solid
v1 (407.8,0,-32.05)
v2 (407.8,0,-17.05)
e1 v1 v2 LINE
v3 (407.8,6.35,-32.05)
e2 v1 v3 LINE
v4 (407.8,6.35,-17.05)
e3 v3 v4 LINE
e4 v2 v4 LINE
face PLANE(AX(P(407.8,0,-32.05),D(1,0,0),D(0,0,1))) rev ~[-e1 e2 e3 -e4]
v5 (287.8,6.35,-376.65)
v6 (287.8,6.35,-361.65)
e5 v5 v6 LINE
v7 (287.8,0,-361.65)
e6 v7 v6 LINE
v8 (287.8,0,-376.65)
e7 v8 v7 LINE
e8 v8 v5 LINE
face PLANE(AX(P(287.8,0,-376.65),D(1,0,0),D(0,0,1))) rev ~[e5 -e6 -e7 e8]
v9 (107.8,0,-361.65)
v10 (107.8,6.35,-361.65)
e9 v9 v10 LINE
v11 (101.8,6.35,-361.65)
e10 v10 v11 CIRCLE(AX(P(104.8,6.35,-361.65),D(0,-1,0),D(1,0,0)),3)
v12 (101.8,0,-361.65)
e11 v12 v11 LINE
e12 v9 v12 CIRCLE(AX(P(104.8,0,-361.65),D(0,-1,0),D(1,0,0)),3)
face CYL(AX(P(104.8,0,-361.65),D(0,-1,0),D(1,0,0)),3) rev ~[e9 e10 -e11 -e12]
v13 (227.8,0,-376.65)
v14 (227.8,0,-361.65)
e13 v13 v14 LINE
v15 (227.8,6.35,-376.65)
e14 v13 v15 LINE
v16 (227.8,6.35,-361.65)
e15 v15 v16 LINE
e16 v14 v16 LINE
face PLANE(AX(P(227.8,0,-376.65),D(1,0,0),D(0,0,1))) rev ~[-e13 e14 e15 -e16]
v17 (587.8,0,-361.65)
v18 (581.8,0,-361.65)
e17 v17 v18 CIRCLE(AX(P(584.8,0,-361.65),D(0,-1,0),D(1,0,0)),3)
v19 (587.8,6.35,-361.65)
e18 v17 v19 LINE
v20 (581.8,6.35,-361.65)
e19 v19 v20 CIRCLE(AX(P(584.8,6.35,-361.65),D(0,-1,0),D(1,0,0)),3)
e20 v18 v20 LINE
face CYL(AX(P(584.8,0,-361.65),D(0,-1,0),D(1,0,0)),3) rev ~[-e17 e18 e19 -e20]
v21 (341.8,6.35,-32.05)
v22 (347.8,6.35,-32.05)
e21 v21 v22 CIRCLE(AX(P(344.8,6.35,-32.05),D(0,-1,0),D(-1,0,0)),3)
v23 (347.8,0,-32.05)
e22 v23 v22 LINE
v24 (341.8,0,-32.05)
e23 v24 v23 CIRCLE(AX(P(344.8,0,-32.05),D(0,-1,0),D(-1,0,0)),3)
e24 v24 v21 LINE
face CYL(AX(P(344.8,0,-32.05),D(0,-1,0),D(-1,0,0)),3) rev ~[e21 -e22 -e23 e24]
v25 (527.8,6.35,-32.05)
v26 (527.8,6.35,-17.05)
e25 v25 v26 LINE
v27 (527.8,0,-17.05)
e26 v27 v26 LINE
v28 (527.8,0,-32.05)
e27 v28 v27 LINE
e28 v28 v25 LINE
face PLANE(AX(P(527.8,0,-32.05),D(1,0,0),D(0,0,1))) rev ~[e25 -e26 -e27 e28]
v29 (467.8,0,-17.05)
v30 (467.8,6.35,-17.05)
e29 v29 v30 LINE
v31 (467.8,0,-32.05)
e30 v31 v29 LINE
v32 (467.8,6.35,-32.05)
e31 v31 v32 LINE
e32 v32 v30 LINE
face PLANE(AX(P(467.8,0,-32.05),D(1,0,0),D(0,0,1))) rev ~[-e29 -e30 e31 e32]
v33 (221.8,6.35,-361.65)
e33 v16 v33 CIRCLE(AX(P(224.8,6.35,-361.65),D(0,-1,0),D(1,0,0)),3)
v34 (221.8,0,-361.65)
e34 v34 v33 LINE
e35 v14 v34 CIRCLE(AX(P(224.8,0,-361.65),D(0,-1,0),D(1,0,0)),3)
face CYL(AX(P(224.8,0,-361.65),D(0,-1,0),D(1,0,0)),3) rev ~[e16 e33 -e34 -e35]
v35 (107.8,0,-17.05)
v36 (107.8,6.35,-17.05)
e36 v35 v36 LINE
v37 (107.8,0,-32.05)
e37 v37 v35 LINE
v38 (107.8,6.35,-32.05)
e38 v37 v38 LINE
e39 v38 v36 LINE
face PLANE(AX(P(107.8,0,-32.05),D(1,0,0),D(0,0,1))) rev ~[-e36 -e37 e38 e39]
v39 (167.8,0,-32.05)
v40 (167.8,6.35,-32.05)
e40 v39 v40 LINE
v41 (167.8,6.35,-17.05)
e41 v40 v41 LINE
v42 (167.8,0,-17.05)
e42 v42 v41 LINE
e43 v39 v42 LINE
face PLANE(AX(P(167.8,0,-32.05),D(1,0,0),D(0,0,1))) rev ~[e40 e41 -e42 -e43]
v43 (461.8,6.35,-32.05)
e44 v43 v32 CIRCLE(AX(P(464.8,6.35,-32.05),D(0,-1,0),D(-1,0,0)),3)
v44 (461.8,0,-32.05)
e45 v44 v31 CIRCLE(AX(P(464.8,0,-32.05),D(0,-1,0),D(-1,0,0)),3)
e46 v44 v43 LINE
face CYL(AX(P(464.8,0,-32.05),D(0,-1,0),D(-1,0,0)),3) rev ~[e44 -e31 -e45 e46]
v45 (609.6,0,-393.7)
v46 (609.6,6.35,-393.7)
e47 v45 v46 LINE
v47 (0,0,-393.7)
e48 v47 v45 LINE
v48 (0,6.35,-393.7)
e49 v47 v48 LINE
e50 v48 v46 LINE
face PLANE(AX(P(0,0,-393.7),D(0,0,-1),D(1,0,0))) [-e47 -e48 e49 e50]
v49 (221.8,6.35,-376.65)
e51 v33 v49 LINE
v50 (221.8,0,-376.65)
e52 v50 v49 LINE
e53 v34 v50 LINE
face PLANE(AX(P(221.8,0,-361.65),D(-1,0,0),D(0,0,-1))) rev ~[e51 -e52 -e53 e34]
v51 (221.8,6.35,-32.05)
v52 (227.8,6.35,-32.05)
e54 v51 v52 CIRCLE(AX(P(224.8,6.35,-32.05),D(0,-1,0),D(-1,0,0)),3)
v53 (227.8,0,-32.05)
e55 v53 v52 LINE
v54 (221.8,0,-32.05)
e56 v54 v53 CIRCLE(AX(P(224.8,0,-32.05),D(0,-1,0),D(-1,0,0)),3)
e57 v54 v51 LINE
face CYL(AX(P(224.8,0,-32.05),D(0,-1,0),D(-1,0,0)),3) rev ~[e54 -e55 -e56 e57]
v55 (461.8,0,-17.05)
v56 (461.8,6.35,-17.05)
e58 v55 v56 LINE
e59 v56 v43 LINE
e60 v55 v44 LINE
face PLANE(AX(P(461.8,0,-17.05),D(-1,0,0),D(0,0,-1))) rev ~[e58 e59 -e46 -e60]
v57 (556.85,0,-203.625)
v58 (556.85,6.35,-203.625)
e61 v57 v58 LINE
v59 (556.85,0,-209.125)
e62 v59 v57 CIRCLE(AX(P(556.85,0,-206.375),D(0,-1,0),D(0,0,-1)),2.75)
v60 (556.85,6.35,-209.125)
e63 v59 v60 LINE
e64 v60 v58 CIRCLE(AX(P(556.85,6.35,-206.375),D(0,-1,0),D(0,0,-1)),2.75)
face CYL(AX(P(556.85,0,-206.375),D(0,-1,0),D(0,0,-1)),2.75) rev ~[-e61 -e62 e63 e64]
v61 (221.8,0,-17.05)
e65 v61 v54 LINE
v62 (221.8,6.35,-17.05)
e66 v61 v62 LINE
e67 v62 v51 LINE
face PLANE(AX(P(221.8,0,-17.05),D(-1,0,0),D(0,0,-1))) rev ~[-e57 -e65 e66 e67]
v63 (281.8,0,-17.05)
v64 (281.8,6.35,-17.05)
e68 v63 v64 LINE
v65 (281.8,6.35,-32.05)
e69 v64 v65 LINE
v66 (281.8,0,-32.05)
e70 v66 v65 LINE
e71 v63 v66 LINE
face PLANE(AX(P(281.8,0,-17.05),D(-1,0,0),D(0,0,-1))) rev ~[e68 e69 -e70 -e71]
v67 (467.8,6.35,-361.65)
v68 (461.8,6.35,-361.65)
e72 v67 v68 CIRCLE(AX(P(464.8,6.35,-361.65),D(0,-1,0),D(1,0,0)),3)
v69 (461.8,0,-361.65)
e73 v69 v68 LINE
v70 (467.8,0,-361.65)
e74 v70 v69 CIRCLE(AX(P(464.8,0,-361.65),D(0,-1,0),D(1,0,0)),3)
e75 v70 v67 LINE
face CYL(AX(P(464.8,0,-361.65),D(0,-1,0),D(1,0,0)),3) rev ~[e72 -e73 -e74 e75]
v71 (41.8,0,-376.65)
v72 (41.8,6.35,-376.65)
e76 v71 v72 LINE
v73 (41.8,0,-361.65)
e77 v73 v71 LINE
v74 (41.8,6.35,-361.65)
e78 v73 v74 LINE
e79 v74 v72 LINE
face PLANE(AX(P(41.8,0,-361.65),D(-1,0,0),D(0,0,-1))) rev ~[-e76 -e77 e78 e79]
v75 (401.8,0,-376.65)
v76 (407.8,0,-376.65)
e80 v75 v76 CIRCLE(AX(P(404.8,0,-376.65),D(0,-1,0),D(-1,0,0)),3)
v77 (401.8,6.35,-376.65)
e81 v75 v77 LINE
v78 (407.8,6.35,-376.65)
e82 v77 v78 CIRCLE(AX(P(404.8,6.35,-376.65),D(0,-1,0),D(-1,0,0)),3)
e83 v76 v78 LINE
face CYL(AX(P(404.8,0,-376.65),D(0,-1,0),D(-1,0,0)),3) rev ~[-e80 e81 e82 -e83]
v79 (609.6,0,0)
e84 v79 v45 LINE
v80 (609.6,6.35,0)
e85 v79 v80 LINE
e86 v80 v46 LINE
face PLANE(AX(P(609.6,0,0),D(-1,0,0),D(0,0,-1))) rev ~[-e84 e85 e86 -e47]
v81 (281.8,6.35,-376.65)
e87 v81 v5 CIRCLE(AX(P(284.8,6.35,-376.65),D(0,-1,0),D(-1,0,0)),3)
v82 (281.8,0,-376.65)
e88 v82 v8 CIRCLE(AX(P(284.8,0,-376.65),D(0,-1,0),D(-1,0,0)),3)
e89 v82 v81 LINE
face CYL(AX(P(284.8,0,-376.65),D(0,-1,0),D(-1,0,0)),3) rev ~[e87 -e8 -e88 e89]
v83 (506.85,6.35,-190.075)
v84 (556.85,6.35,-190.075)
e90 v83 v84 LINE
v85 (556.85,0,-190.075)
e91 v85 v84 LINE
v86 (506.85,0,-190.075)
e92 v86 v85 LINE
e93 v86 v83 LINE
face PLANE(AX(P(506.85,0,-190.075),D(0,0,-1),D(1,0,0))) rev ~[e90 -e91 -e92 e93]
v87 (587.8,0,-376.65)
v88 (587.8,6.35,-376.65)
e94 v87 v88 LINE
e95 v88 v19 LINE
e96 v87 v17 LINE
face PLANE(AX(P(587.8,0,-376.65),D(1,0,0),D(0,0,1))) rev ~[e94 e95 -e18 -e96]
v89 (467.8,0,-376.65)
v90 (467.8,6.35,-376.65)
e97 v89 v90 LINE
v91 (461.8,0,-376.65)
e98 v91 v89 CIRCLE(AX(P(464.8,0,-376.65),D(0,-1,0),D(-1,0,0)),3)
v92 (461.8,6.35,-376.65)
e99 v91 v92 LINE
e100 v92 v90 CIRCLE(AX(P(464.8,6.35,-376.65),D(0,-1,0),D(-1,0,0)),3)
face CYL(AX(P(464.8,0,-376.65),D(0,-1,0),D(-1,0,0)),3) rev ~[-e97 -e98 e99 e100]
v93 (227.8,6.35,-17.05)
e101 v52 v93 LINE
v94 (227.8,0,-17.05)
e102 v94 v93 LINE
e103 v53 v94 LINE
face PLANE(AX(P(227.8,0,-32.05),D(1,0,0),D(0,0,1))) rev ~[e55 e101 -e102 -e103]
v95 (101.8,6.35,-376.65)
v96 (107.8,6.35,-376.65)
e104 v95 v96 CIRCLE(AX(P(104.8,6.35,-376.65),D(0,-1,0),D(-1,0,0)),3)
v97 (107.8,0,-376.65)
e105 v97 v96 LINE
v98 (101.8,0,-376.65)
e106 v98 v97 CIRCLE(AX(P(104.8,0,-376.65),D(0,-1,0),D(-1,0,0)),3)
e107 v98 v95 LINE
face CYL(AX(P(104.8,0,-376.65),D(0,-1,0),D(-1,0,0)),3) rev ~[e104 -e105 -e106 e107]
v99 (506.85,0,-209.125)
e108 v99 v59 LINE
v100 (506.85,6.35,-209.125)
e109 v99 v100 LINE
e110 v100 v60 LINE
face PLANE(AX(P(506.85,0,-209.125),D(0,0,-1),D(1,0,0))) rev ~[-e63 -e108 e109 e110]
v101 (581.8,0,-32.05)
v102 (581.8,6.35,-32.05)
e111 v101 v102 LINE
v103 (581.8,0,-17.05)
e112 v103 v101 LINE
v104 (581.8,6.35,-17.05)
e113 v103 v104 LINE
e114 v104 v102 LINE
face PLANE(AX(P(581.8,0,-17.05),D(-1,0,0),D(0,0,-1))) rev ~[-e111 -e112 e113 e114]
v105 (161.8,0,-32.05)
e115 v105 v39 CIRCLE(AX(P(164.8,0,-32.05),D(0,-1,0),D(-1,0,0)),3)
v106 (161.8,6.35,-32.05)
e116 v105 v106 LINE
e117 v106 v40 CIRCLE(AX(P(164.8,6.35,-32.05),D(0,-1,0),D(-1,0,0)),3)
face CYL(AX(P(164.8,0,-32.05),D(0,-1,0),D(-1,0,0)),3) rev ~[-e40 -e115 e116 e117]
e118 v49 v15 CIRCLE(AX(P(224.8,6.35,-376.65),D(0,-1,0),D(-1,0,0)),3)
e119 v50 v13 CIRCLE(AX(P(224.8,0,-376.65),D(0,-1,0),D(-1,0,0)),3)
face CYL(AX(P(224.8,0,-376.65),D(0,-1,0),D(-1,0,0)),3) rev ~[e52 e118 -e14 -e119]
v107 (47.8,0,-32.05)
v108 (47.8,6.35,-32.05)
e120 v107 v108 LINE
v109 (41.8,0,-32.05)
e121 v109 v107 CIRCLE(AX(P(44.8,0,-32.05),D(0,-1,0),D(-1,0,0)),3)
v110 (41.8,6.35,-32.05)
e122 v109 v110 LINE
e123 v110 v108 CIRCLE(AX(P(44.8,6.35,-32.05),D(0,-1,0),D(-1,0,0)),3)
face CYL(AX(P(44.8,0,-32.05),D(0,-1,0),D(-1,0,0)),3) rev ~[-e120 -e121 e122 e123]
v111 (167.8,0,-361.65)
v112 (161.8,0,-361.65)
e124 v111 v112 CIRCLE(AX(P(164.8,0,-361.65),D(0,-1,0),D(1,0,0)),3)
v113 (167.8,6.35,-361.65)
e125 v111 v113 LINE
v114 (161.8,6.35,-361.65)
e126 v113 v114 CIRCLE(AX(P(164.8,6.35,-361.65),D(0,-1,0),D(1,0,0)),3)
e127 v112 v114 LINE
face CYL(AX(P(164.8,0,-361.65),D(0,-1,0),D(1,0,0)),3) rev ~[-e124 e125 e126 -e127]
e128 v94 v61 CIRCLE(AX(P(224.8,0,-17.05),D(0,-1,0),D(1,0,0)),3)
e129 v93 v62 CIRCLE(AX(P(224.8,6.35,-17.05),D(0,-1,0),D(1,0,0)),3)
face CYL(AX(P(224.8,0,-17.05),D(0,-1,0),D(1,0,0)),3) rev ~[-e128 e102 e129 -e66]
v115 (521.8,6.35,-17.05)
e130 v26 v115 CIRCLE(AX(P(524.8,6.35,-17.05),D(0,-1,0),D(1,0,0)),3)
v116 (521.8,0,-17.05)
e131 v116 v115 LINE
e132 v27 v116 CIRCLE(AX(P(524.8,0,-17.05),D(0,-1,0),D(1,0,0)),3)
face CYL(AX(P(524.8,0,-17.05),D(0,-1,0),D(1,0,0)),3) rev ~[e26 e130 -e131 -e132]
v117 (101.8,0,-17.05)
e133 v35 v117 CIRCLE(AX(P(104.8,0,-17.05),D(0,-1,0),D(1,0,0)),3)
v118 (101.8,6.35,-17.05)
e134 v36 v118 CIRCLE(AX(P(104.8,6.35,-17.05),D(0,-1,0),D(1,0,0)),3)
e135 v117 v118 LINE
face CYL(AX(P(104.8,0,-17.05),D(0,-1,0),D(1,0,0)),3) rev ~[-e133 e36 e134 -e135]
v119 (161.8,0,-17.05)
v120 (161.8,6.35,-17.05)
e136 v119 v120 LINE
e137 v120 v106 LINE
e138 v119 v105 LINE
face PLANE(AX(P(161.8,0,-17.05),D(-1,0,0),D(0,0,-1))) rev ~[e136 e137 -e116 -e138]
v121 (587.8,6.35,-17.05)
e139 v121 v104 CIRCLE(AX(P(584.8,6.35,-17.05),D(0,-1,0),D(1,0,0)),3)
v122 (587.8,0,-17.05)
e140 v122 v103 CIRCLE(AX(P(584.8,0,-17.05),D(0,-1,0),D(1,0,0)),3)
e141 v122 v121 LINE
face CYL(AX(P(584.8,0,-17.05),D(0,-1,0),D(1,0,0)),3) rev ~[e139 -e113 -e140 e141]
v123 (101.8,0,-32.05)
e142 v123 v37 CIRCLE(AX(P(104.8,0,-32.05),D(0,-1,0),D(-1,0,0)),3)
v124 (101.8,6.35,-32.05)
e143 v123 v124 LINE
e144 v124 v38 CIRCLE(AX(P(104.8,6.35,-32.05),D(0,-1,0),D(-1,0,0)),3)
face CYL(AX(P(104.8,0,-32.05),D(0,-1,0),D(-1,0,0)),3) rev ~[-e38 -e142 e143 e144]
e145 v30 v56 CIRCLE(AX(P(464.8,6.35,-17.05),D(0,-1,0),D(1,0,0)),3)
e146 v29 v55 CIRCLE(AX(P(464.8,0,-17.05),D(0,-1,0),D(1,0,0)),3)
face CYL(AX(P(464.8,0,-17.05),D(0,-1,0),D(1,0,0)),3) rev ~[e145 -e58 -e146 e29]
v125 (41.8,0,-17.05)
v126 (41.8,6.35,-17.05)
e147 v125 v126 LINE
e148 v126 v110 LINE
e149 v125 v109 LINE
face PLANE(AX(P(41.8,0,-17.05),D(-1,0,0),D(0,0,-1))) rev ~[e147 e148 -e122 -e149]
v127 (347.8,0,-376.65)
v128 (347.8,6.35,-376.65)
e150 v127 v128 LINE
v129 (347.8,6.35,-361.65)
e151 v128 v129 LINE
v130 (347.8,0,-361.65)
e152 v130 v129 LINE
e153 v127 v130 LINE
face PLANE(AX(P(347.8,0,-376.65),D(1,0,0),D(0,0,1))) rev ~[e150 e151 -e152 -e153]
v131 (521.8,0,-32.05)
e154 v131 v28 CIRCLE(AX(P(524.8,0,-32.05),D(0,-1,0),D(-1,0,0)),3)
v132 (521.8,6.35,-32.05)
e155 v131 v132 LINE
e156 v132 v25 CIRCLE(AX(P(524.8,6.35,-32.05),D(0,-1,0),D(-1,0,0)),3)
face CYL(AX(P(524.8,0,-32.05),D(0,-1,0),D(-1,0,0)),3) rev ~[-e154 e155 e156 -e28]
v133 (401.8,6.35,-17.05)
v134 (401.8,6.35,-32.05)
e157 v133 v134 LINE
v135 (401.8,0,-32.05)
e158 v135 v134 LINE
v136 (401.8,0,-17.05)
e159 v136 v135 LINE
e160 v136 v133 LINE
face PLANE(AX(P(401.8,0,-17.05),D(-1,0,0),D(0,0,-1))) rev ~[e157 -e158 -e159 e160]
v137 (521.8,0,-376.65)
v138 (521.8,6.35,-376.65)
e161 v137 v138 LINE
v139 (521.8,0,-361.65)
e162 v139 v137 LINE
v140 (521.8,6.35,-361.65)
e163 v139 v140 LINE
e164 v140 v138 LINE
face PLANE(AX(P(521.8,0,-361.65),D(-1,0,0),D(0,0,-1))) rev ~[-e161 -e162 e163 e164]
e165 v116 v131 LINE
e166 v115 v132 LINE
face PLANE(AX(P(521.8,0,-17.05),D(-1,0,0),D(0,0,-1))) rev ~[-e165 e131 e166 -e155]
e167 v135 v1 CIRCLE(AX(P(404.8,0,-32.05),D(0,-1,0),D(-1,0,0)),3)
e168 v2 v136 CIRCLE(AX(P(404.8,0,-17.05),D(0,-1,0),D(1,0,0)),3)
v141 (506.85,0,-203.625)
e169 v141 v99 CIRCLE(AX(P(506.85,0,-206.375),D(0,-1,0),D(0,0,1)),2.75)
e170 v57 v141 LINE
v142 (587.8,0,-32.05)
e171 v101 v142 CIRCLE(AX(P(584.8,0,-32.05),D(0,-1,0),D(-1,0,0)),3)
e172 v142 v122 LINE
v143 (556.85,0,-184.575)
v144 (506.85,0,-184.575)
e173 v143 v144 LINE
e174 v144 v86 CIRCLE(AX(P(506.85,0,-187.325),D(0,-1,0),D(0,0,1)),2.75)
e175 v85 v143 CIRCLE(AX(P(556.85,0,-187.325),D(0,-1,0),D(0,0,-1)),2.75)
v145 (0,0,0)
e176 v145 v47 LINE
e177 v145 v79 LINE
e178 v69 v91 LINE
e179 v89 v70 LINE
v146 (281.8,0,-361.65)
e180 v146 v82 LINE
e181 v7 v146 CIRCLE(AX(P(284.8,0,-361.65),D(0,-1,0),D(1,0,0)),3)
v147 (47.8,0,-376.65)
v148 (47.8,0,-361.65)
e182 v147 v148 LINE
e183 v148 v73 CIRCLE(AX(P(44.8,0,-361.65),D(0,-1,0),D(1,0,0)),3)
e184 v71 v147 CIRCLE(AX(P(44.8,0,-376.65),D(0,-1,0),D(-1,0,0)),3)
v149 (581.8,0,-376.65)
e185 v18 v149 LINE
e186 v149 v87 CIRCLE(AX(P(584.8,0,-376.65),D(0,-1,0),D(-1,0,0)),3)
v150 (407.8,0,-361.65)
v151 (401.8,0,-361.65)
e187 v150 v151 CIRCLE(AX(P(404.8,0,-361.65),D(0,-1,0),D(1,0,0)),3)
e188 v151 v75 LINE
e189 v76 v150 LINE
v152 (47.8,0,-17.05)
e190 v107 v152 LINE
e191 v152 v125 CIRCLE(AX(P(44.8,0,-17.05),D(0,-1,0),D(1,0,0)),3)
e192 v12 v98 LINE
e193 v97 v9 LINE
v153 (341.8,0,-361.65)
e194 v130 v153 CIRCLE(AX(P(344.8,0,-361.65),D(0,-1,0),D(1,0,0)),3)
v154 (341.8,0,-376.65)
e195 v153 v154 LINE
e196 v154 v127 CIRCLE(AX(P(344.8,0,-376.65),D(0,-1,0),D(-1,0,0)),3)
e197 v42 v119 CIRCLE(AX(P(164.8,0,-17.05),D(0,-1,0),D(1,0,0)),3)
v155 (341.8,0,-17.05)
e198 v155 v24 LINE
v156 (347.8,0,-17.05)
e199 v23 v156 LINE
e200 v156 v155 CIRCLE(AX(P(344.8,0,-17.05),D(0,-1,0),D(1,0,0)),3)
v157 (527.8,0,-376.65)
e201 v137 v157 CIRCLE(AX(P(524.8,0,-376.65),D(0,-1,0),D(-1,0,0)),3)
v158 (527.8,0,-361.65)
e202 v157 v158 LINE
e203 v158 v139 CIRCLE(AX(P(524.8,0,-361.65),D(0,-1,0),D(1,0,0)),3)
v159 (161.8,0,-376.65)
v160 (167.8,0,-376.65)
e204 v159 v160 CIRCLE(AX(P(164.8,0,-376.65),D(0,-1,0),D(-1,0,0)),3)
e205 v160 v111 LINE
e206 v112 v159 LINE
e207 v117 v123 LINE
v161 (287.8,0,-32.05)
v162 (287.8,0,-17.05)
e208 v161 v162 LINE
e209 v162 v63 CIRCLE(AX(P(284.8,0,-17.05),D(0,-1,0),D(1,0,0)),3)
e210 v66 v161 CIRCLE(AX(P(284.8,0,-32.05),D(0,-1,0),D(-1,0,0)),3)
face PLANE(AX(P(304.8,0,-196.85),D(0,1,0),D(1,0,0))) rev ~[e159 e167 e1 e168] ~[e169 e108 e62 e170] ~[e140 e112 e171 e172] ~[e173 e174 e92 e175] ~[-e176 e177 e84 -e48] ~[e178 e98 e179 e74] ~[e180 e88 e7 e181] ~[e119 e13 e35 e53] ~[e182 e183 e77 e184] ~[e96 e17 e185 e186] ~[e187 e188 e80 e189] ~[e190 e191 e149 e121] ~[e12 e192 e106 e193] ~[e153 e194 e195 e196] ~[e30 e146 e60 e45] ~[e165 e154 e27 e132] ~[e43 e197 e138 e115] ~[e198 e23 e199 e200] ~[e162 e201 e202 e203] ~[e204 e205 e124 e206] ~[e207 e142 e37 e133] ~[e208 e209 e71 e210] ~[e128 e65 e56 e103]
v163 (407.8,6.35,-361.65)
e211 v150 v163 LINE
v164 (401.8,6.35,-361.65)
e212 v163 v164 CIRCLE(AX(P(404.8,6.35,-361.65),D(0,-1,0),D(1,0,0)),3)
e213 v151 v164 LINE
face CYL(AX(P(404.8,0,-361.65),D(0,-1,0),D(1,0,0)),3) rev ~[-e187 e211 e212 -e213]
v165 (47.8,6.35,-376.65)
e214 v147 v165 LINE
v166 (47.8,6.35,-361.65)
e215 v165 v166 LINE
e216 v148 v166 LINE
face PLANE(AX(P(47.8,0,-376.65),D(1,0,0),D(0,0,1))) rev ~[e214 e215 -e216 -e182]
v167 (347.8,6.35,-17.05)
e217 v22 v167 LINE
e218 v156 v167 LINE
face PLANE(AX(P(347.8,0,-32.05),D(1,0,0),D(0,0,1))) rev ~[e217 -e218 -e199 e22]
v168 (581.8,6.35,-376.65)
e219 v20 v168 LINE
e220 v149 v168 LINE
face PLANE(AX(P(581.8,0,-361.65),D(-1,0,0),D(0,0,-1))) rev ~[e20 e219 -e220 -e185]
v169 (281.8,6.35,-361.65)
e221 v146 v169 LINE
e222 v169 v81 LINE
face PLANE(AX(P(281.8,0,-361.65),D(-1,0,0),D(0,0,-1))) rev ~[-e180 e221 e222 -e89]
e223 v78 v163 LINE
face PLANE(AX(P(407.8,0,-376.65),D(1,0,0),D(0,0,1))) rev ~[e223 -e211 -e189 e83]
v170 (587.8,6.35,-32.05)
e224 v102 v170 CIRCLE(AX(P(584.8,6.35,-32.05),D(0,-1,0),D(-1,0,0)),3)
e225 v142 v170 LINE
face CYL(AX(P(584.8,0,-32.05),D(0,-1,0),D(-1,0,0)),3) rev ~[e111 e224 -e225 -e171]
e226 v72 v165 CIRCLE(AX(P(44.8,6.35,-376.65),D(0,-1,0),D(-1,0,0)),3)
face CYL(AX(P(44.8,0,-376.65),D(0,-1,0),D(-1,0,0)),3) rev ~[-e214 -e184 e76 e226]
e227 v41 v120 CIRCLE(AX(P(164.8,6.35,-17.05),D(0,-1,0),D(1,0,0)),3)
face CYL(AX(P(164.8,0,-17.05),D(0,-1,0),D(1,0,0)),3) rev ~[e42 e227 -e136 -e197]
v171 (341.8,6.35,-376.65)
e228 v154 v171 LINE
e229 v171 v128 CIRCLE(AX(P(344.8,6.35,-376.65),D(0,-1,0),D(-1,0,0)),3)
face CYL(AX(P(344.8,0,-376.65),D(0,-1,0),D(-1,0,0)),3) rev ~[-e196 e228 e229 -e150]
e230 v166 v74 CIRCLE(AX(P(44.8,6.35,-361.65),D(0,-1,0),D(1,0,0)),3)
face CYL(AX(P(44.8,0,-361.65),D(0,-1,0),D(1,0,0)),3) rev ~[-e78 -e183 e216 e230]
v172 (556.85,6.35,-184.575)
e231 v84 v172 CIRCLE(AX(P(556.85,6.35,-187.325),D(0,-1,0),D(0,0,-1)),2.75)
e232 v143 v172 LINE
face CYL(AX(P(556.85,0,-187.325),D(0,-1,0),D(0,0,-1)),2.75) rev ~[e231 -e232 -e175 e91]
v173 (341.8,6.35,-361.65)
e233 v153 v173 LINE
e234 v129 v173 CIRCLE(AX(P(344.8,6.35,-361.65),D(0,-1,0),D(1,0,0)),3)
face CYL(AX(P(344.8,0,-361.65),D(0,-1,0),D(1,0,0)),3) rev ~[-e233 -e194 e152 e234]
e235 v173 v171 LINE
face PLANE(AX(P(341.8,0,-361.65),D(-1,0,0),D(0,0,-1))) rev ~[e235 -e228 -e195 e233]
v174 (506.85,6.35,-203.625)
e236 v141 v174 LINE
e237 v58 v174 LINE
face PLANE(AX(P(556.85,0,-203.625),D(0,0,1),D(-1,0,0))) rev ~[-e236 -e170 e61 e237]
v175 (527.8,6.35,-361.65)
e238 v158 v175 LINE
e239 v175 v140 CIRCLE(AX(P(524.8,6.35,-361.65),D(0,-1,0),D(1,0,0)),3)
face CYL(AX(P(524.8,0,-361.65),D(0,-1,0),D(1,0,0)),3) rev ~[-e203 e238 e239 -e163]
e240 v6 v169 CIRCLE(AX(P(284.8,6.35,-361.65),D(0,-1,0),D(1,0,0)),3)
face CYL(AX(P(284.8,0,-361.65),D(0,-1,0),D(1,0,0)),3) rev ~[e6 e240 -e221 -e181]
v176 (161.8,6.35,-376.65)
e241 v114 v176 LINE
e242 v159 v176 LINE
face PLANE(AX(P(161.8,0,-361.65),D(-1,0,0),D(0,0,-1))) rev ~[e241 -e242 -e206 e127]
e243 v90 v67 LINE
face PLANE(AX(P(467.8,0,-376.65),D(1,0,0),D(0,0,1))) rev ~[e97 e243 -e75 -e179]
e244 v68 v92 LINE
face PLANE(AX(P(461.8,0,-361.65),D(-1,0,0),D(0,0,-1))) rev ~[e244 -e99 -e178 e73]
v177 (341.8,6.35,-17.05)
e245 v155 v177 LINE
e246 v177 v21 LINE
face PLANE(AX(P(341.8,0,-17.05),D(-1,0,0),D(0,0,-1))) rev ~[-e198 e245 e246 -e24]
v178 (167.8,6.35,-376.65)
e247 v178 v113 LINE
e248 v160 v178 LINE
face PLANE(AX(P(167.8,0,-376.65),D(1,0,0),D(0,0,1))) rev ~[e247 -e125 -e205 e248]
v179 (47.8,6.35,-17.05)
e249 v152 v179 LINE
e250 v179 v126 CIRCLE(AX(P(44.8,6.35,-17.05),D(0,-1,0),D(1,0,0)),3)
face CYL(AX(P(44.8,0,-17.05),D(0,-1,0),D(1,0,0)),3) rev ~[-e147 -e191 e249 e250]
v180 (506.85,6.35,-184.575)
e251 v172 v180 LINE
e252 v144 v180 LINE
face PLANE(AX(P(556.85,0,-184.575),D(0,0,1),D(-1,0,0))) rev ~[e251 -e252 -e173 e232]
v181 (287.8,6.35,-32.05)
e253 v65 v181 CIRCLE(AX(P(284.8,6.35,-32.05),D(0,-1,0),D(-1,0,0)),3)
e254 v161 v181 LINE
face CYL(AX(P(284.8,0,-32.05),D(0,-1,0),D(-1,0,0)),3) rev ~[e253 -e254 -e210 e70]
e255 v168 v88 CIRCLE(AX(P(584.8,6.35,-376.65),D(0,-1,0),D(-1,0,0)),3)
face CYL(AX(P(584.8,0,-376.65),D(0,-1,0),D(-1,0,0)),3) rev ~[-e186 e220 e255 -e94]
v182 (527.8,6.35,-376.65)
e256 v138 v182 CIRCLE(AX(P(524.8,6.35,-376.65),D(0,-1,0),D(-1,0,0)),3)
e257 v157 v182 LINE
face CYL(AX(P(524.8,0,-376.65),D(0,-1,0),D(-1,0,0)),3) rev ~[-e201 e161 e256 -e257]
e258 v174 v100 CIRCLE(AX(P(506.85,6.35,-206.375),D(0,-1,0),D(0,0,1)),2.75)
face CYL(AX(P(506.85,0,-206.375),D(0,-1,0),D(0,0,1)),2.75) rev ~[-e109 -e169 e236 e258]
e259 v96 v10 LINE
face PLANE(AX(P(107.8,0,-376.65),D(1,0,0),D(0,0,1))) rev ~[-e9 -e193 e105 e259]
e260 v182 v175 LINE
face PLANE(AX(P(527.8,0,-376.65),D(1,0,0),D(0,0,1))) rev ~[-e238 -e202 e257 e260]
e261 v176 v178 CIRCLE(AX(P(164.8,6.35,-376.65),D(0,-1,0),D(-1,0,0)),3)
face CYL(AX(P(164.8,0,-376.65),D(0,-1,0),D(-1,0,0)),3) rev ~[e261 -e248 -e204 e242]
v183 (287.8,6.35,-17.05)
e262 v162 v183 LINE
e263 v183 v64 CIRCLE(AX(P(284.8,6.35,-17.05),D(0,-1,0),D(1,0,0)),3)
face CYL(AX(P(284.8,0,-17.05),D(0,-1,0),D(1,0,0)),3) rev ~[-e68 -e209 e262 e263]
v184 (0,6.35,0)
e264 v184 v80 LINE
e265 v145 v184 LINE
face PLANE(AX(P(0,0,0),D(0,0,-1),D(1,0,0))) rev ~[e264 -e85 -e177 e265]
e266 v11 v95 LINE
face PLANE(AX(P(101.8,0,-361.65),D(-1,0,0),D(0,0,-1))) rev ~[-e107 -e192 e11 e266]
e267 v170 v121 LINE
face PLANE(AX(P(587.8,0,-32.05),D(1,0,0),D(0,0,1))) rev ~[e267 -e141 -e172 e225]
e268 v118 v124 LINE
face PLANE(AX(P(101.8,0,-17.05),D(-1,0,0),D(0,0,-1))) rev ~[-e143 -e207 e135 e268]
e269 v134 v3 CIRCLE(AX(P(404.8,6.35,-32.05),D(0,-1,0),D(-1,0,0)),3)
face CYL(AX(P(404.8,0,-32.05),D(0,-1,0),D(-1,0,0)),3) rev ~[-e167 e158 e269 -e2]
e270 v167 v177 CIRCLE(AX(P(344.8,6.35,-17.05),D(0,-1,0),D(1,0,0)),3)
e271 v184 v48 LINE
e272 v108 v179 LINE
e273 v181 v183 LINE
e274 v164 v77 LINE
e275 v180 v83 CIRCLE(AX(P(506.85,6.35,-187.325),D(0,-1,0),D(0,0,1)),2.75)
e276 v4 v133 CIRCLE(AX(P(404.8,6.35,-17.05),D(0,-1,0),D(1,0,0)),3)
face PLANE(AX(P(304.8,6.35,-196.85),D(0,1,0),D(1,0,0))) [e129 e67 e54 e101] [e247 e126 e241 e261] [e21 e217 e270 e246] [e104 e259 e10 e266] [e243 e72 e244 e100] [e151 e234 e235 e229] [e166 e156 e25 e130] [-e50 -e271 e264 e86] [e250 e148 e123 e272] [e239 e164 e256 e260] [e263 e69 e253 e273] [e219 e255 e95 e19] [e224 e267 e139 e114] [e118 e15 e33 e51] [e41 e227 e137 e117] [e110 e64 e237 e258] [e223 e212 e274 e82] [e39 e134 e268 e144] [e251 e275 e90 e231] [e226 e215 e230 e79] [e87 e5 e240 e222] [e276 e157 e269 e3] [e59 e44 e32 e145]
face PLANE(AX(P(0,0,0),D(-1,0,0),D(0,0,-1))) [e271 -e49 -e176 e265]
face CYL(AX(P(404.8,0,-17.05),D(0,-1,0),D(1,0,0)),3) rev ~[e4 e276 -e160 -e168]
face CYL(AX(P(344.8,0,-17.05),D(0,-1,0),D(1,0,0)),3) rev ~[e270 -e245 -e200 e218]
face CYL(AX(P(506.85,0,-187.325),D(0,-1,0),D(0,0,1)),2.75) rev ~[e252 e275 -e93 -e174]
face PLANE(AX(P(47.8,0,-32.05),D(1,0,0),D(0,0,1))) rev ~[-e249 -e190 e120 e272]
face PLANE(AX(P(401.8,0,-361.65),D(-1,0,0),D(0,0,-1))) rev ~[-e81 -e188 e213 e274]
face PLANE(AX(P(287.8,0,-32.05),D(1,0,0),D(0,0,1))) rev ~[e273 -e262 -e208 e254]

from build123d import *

# Parameters (mm, degrees)
SKETCH1_W           = 609.6
SKETCH1_H           = 393.7
BOSS_EXTRUDE1_DEPTH = 6.35


with BuildPart() as part:
    # Sketch1 → Boss-Extrude1 (new body)
    with BuildSketch(Plane(origin=(0, 0, 0), x_dir=(1, 0, 0), z_dir=(0, 1, 0))):
        with Locations((304.8, 196.85)):
            Rectangle(SKETCH1_W, SKETCH1_H)
        with BuildLine():
            Line((587.8, 32.05), (587.8, 17.05))
            ThreePointArc((587.8, 17.05), (584.8, 14.05), (581.8, 17.05))
            Line((581.8, 17.05), (581.8, 32.05))
            ThreePointArc((581.8, 32.05), (584.8, 35.05), (587.8, 32.05))
        make_face(mode=Mode.SUBTRACT)
        with BuildLine():
            Line((527.8, 32.05), (527.8, 17.05))
            ThreePointArc((527.8, 17.05), (524.8, 14.05), (521.8, 17.05))
            Line((521.8, 17.05), (521.8, 32.05))
            ThreePointArc((521.8, 32.05), (524.8, 35.05), (527.8, 32.05))
        make_face(mode=Mode.SUBTRACT)
        with BuildLine():
            Line((467.8, 32.05), (467.8, 17.05))
            ThreePointArc((467.8, 17.05), (464.8, 14.05), (461.8, 17.05))
            Line((461.8, 17.05), (461.8, 32.05))
            ThreePointArc((461.8, 32.05), (464.8, 35.05), (467.8, 32.05))
        make_face(mode=Mode.SUBTRACT)
        with BuildLine():
            Line((407.8, 32.05), (407.8, 17.05))
            ThreePointArc((407.8, 17.05), (404.8, 14.05), (401.8, 17.05))
            Line((401.8, 17.05), (401.8, 32.05))
            ThreePointArc((401.8, 32.05), (404.8, 35.05), (407.8, 32.05))
        make_face(mode=Mode.SUBTRACT)
        with BuildLine():
            Line((347.8, 32.05), (347.8, 17.05))
            ThreePointArc((347.8, 17.05), (344.8, 14.05), (341.8, 17.05))
            Line((341.8, 17.05), (341.8, 32.05))
            ThreePointArc((341.8, 32.05), (344.8, 35.05), (347.8, 32.05))
        make_face(mode=Mode.SUBTRACT)
        with BuildLine():
            Line((287.8, 32.05), (287.8, 17.05))
            ThreePointArc((287.8, 17.05), (284.8, 14.05), (281.8, 17.05))
            Line((281.8, 17.05), (281.8, 32.05))
            ThreePointArc((281.8, 32.05), (284.8, 35.05), (287.8, 32.05))
        make_face(mode=Mode.SUBTRACT)
        with BuildLine():
            Line((227.8, 32.05), (227.8, 17.05))
            ThreePointArc((227.8, 17.05), (224.8, 14.05), (221.8, 17.05))
            Line((221.8, 17.05), (221.8, 32.05))
            ThreePointArc((221.8, 32.05), (224.8, 35.05), (227.8, 32.05))
        make_face(mode=Mode.SUBTRACT)
        with BuildLine():
            Line((167.8, 32.05), (167.8, 17.05))
            ThreePointArc((167.8, 17.05), (164.8, 14.05), (161.8, 17.05))
            Line((161.8, 17.05), (161.8, 32.05))
            ThreePointArc((161.8, 32.05), (164.8, 35.05), (167.8, 32.05))
        make_face(mode=Mode.SUBTRACT)
        with BuildLine():
            Line((107.8, 32.05), (107.8, 17.05))
            ThreePointArc((107.8, 17.05), (104.8, 14.05), (101.8, 17.05))
            Line((101.8, 17.05), (101.8, 32.05))
            ThreePointArc((101.8, 32.05), (104.8, 35.05), (107.8, 32.05))
        make_face(mode=Mode.SUBTRACT)
        with BuildLine():
            Line((47.8, 32.05), (47.8, 17.05))
            ThreePointArc((47.8, 17.05), (44.8, 14.05), (41.8, 17.05))
            Line((41.8, 17.05), (41.8, 32.05))
            ThreePointArc((41.8, 32.05), (44.8, 35.05), (47.8, 32.05))
        make_face(mode=Mode.SUBTRACT)
        with BuildLine():
            Line((527.8, 376.65), (527.8, 361.65))
            ThreePointArc((527.8, 361.65), (524.8, 358.65), (521.8, 361.65))
            Line((521.8, 361.65), (521.8, 376.65))
            ThreePointArc((521.8, 376.65), (524.8, 379.65), (527.8, 376.65))
        make_face(mode=Mode.SUBTRACT)
        with BuildLine():
            Line((467.8, 376.65), (467.8, 361.65))
            ThreePointArc((467.8, 361.65), (464.8, 358.65), (461.8, 361.65))
            Line((461.8, 361.65), (461.8, 376.65))
            ThreePointArc((461.8, 376.65), (464.8, 379.65), (467.8, 376.65))
        make_face(mode=Mode.SUBTRACT)
        with BuildLine():
            Line((407.8, 376.65), (407.8, 361.65))
            ThreePointArc((407.8, 361.65), (404.8, 358.65), (401.8, 361.65))
            Line((401.8, 361.65), (401.8, 376.65))
            ThreePointArc((401.8, 376.65), (404.8, 379.65), (407.8, 376.65))
        make_face(mode=Mode.SUBTRACT)
        with BuildLine():
            Line((347.8, 376.65), (347.8, 361.65))
            ThreePointArc((347.8, 361.65), (344.8, 358.65), (341.8, 361.65))
            Line((341.8, 361.65), (341.8, 376.65))
            ThreePointArc((341.8, 376.65), (344.8, 379.65), (347.8, 376.65))
        make_face(mode=Mode.SUBTRACT)
        with BuildLine():
            Line((287.8, 376.65), (287.8, 361.65))
            ThreePointArc((287.8, 361.65), (284.8, 358.65), (281.8, 361.65))
            Line((281.8, 361.65), (281.8, 376.65))
            ThreePointArc((281.8, 376.65), (284.8, 379.65), (287.8, 376.65))
        make_face(mode=Mode.SUBTRACT)
        with BuildLine():
            Line((227.8, 376.65), (227.8, 361.65))
            ThreePointArc((227.8, 361.65), (224.8, 358.65), (221.8, 361.65))
            Line((221.8, 361.65), (221.8, 376.65))
            ThreePointArc((221.8, 376.65), (224.8, 379.65), (227.8, 376.65))
        make_face(mode=Mode.SUBTRACT)
        with BuildLine():
            Line((167.8, 376.65), (167.8, 361.65))
            ThreePointArc((167.8, 361.65), (164.8, 358.65), (161.8, 361.65))
            Line((161.8, 361.65), (161.8, 376.65))
            ThreePointArc((161.8, 376.65), (164.8, 379.65), (167.8, 376.65))
        make_face(mode=Mode.SUBTRACT)
        with BuildLine():
            Line((107.8, 376.65), (107.8, 361.65))
            ThreePointArc((107.8, 361.65), (104.8, 358.65), (101.8, 361.65))
            Line((101.8, 361.65), (101.8, 376.65))
            ThreePointArc((101.8, 376.65), (104.8, 379.65), (107.8, 376.65))
        make_face(mode=Mode.SUBTRACT)
        with BuildLine():
            Line((47.8, 376.65), (47.8, 361.65))
            ThreePointArc((47.8, 361.65), (44.8, 358.65), (41.8, 361.65))
            Line((41.8, 361.65), (41.8, 376.65))
            ThreePointArc((41.8, 376.65), (44.8, 379.65), (47.8, 376.65))
        make_face(mode=Mode.SUBTRACT)
        with BuildLine():
            Line((587.8, 376.65), (587.8, 361.65))
            ThreePointArc((587.8, 361.65), (584.8, 358.65), (581.8, 361.65))
            Line((581.8, 361.65), (581.8, 376.65))
            ThreePointArc((581.8, 376.65), (584.8, 379.65), (587.8, 376.65))
        make_face(mode=Mode.SUBTRACT)
        with BuildLine():
            Line((506.85, 209.125), (556.85, 209.125))
            ThreePointArc((556.85, 209.125), (559.6, 206.375), (556.85, 203.625))
            Line((556.85, 203.625), (506.85, 203.625))
            ThreePointArc((506.85, 203.625), (504.1, 206.375), (506.85, 209.125))
        make_face(mode=Mode.SUBTRACT)
        with BuildLine():
            Line((506.85, 190.075), (556.85, 190.075))
            ThreePointArc((556.85, 190.075), (559.6, 187.325), (556.85, 184.575))
            Line((556.85, 184.575), (506.85, 184.575))
            ThreePointArc((506.85, 184.575), (504.1, 187.325), (506.85, 190.075))
        make_face(mode=Mode.SUBTRACT)
    extrude(amount=BOSS_EXTRUDE1_DEPTH)


solid = part.part
